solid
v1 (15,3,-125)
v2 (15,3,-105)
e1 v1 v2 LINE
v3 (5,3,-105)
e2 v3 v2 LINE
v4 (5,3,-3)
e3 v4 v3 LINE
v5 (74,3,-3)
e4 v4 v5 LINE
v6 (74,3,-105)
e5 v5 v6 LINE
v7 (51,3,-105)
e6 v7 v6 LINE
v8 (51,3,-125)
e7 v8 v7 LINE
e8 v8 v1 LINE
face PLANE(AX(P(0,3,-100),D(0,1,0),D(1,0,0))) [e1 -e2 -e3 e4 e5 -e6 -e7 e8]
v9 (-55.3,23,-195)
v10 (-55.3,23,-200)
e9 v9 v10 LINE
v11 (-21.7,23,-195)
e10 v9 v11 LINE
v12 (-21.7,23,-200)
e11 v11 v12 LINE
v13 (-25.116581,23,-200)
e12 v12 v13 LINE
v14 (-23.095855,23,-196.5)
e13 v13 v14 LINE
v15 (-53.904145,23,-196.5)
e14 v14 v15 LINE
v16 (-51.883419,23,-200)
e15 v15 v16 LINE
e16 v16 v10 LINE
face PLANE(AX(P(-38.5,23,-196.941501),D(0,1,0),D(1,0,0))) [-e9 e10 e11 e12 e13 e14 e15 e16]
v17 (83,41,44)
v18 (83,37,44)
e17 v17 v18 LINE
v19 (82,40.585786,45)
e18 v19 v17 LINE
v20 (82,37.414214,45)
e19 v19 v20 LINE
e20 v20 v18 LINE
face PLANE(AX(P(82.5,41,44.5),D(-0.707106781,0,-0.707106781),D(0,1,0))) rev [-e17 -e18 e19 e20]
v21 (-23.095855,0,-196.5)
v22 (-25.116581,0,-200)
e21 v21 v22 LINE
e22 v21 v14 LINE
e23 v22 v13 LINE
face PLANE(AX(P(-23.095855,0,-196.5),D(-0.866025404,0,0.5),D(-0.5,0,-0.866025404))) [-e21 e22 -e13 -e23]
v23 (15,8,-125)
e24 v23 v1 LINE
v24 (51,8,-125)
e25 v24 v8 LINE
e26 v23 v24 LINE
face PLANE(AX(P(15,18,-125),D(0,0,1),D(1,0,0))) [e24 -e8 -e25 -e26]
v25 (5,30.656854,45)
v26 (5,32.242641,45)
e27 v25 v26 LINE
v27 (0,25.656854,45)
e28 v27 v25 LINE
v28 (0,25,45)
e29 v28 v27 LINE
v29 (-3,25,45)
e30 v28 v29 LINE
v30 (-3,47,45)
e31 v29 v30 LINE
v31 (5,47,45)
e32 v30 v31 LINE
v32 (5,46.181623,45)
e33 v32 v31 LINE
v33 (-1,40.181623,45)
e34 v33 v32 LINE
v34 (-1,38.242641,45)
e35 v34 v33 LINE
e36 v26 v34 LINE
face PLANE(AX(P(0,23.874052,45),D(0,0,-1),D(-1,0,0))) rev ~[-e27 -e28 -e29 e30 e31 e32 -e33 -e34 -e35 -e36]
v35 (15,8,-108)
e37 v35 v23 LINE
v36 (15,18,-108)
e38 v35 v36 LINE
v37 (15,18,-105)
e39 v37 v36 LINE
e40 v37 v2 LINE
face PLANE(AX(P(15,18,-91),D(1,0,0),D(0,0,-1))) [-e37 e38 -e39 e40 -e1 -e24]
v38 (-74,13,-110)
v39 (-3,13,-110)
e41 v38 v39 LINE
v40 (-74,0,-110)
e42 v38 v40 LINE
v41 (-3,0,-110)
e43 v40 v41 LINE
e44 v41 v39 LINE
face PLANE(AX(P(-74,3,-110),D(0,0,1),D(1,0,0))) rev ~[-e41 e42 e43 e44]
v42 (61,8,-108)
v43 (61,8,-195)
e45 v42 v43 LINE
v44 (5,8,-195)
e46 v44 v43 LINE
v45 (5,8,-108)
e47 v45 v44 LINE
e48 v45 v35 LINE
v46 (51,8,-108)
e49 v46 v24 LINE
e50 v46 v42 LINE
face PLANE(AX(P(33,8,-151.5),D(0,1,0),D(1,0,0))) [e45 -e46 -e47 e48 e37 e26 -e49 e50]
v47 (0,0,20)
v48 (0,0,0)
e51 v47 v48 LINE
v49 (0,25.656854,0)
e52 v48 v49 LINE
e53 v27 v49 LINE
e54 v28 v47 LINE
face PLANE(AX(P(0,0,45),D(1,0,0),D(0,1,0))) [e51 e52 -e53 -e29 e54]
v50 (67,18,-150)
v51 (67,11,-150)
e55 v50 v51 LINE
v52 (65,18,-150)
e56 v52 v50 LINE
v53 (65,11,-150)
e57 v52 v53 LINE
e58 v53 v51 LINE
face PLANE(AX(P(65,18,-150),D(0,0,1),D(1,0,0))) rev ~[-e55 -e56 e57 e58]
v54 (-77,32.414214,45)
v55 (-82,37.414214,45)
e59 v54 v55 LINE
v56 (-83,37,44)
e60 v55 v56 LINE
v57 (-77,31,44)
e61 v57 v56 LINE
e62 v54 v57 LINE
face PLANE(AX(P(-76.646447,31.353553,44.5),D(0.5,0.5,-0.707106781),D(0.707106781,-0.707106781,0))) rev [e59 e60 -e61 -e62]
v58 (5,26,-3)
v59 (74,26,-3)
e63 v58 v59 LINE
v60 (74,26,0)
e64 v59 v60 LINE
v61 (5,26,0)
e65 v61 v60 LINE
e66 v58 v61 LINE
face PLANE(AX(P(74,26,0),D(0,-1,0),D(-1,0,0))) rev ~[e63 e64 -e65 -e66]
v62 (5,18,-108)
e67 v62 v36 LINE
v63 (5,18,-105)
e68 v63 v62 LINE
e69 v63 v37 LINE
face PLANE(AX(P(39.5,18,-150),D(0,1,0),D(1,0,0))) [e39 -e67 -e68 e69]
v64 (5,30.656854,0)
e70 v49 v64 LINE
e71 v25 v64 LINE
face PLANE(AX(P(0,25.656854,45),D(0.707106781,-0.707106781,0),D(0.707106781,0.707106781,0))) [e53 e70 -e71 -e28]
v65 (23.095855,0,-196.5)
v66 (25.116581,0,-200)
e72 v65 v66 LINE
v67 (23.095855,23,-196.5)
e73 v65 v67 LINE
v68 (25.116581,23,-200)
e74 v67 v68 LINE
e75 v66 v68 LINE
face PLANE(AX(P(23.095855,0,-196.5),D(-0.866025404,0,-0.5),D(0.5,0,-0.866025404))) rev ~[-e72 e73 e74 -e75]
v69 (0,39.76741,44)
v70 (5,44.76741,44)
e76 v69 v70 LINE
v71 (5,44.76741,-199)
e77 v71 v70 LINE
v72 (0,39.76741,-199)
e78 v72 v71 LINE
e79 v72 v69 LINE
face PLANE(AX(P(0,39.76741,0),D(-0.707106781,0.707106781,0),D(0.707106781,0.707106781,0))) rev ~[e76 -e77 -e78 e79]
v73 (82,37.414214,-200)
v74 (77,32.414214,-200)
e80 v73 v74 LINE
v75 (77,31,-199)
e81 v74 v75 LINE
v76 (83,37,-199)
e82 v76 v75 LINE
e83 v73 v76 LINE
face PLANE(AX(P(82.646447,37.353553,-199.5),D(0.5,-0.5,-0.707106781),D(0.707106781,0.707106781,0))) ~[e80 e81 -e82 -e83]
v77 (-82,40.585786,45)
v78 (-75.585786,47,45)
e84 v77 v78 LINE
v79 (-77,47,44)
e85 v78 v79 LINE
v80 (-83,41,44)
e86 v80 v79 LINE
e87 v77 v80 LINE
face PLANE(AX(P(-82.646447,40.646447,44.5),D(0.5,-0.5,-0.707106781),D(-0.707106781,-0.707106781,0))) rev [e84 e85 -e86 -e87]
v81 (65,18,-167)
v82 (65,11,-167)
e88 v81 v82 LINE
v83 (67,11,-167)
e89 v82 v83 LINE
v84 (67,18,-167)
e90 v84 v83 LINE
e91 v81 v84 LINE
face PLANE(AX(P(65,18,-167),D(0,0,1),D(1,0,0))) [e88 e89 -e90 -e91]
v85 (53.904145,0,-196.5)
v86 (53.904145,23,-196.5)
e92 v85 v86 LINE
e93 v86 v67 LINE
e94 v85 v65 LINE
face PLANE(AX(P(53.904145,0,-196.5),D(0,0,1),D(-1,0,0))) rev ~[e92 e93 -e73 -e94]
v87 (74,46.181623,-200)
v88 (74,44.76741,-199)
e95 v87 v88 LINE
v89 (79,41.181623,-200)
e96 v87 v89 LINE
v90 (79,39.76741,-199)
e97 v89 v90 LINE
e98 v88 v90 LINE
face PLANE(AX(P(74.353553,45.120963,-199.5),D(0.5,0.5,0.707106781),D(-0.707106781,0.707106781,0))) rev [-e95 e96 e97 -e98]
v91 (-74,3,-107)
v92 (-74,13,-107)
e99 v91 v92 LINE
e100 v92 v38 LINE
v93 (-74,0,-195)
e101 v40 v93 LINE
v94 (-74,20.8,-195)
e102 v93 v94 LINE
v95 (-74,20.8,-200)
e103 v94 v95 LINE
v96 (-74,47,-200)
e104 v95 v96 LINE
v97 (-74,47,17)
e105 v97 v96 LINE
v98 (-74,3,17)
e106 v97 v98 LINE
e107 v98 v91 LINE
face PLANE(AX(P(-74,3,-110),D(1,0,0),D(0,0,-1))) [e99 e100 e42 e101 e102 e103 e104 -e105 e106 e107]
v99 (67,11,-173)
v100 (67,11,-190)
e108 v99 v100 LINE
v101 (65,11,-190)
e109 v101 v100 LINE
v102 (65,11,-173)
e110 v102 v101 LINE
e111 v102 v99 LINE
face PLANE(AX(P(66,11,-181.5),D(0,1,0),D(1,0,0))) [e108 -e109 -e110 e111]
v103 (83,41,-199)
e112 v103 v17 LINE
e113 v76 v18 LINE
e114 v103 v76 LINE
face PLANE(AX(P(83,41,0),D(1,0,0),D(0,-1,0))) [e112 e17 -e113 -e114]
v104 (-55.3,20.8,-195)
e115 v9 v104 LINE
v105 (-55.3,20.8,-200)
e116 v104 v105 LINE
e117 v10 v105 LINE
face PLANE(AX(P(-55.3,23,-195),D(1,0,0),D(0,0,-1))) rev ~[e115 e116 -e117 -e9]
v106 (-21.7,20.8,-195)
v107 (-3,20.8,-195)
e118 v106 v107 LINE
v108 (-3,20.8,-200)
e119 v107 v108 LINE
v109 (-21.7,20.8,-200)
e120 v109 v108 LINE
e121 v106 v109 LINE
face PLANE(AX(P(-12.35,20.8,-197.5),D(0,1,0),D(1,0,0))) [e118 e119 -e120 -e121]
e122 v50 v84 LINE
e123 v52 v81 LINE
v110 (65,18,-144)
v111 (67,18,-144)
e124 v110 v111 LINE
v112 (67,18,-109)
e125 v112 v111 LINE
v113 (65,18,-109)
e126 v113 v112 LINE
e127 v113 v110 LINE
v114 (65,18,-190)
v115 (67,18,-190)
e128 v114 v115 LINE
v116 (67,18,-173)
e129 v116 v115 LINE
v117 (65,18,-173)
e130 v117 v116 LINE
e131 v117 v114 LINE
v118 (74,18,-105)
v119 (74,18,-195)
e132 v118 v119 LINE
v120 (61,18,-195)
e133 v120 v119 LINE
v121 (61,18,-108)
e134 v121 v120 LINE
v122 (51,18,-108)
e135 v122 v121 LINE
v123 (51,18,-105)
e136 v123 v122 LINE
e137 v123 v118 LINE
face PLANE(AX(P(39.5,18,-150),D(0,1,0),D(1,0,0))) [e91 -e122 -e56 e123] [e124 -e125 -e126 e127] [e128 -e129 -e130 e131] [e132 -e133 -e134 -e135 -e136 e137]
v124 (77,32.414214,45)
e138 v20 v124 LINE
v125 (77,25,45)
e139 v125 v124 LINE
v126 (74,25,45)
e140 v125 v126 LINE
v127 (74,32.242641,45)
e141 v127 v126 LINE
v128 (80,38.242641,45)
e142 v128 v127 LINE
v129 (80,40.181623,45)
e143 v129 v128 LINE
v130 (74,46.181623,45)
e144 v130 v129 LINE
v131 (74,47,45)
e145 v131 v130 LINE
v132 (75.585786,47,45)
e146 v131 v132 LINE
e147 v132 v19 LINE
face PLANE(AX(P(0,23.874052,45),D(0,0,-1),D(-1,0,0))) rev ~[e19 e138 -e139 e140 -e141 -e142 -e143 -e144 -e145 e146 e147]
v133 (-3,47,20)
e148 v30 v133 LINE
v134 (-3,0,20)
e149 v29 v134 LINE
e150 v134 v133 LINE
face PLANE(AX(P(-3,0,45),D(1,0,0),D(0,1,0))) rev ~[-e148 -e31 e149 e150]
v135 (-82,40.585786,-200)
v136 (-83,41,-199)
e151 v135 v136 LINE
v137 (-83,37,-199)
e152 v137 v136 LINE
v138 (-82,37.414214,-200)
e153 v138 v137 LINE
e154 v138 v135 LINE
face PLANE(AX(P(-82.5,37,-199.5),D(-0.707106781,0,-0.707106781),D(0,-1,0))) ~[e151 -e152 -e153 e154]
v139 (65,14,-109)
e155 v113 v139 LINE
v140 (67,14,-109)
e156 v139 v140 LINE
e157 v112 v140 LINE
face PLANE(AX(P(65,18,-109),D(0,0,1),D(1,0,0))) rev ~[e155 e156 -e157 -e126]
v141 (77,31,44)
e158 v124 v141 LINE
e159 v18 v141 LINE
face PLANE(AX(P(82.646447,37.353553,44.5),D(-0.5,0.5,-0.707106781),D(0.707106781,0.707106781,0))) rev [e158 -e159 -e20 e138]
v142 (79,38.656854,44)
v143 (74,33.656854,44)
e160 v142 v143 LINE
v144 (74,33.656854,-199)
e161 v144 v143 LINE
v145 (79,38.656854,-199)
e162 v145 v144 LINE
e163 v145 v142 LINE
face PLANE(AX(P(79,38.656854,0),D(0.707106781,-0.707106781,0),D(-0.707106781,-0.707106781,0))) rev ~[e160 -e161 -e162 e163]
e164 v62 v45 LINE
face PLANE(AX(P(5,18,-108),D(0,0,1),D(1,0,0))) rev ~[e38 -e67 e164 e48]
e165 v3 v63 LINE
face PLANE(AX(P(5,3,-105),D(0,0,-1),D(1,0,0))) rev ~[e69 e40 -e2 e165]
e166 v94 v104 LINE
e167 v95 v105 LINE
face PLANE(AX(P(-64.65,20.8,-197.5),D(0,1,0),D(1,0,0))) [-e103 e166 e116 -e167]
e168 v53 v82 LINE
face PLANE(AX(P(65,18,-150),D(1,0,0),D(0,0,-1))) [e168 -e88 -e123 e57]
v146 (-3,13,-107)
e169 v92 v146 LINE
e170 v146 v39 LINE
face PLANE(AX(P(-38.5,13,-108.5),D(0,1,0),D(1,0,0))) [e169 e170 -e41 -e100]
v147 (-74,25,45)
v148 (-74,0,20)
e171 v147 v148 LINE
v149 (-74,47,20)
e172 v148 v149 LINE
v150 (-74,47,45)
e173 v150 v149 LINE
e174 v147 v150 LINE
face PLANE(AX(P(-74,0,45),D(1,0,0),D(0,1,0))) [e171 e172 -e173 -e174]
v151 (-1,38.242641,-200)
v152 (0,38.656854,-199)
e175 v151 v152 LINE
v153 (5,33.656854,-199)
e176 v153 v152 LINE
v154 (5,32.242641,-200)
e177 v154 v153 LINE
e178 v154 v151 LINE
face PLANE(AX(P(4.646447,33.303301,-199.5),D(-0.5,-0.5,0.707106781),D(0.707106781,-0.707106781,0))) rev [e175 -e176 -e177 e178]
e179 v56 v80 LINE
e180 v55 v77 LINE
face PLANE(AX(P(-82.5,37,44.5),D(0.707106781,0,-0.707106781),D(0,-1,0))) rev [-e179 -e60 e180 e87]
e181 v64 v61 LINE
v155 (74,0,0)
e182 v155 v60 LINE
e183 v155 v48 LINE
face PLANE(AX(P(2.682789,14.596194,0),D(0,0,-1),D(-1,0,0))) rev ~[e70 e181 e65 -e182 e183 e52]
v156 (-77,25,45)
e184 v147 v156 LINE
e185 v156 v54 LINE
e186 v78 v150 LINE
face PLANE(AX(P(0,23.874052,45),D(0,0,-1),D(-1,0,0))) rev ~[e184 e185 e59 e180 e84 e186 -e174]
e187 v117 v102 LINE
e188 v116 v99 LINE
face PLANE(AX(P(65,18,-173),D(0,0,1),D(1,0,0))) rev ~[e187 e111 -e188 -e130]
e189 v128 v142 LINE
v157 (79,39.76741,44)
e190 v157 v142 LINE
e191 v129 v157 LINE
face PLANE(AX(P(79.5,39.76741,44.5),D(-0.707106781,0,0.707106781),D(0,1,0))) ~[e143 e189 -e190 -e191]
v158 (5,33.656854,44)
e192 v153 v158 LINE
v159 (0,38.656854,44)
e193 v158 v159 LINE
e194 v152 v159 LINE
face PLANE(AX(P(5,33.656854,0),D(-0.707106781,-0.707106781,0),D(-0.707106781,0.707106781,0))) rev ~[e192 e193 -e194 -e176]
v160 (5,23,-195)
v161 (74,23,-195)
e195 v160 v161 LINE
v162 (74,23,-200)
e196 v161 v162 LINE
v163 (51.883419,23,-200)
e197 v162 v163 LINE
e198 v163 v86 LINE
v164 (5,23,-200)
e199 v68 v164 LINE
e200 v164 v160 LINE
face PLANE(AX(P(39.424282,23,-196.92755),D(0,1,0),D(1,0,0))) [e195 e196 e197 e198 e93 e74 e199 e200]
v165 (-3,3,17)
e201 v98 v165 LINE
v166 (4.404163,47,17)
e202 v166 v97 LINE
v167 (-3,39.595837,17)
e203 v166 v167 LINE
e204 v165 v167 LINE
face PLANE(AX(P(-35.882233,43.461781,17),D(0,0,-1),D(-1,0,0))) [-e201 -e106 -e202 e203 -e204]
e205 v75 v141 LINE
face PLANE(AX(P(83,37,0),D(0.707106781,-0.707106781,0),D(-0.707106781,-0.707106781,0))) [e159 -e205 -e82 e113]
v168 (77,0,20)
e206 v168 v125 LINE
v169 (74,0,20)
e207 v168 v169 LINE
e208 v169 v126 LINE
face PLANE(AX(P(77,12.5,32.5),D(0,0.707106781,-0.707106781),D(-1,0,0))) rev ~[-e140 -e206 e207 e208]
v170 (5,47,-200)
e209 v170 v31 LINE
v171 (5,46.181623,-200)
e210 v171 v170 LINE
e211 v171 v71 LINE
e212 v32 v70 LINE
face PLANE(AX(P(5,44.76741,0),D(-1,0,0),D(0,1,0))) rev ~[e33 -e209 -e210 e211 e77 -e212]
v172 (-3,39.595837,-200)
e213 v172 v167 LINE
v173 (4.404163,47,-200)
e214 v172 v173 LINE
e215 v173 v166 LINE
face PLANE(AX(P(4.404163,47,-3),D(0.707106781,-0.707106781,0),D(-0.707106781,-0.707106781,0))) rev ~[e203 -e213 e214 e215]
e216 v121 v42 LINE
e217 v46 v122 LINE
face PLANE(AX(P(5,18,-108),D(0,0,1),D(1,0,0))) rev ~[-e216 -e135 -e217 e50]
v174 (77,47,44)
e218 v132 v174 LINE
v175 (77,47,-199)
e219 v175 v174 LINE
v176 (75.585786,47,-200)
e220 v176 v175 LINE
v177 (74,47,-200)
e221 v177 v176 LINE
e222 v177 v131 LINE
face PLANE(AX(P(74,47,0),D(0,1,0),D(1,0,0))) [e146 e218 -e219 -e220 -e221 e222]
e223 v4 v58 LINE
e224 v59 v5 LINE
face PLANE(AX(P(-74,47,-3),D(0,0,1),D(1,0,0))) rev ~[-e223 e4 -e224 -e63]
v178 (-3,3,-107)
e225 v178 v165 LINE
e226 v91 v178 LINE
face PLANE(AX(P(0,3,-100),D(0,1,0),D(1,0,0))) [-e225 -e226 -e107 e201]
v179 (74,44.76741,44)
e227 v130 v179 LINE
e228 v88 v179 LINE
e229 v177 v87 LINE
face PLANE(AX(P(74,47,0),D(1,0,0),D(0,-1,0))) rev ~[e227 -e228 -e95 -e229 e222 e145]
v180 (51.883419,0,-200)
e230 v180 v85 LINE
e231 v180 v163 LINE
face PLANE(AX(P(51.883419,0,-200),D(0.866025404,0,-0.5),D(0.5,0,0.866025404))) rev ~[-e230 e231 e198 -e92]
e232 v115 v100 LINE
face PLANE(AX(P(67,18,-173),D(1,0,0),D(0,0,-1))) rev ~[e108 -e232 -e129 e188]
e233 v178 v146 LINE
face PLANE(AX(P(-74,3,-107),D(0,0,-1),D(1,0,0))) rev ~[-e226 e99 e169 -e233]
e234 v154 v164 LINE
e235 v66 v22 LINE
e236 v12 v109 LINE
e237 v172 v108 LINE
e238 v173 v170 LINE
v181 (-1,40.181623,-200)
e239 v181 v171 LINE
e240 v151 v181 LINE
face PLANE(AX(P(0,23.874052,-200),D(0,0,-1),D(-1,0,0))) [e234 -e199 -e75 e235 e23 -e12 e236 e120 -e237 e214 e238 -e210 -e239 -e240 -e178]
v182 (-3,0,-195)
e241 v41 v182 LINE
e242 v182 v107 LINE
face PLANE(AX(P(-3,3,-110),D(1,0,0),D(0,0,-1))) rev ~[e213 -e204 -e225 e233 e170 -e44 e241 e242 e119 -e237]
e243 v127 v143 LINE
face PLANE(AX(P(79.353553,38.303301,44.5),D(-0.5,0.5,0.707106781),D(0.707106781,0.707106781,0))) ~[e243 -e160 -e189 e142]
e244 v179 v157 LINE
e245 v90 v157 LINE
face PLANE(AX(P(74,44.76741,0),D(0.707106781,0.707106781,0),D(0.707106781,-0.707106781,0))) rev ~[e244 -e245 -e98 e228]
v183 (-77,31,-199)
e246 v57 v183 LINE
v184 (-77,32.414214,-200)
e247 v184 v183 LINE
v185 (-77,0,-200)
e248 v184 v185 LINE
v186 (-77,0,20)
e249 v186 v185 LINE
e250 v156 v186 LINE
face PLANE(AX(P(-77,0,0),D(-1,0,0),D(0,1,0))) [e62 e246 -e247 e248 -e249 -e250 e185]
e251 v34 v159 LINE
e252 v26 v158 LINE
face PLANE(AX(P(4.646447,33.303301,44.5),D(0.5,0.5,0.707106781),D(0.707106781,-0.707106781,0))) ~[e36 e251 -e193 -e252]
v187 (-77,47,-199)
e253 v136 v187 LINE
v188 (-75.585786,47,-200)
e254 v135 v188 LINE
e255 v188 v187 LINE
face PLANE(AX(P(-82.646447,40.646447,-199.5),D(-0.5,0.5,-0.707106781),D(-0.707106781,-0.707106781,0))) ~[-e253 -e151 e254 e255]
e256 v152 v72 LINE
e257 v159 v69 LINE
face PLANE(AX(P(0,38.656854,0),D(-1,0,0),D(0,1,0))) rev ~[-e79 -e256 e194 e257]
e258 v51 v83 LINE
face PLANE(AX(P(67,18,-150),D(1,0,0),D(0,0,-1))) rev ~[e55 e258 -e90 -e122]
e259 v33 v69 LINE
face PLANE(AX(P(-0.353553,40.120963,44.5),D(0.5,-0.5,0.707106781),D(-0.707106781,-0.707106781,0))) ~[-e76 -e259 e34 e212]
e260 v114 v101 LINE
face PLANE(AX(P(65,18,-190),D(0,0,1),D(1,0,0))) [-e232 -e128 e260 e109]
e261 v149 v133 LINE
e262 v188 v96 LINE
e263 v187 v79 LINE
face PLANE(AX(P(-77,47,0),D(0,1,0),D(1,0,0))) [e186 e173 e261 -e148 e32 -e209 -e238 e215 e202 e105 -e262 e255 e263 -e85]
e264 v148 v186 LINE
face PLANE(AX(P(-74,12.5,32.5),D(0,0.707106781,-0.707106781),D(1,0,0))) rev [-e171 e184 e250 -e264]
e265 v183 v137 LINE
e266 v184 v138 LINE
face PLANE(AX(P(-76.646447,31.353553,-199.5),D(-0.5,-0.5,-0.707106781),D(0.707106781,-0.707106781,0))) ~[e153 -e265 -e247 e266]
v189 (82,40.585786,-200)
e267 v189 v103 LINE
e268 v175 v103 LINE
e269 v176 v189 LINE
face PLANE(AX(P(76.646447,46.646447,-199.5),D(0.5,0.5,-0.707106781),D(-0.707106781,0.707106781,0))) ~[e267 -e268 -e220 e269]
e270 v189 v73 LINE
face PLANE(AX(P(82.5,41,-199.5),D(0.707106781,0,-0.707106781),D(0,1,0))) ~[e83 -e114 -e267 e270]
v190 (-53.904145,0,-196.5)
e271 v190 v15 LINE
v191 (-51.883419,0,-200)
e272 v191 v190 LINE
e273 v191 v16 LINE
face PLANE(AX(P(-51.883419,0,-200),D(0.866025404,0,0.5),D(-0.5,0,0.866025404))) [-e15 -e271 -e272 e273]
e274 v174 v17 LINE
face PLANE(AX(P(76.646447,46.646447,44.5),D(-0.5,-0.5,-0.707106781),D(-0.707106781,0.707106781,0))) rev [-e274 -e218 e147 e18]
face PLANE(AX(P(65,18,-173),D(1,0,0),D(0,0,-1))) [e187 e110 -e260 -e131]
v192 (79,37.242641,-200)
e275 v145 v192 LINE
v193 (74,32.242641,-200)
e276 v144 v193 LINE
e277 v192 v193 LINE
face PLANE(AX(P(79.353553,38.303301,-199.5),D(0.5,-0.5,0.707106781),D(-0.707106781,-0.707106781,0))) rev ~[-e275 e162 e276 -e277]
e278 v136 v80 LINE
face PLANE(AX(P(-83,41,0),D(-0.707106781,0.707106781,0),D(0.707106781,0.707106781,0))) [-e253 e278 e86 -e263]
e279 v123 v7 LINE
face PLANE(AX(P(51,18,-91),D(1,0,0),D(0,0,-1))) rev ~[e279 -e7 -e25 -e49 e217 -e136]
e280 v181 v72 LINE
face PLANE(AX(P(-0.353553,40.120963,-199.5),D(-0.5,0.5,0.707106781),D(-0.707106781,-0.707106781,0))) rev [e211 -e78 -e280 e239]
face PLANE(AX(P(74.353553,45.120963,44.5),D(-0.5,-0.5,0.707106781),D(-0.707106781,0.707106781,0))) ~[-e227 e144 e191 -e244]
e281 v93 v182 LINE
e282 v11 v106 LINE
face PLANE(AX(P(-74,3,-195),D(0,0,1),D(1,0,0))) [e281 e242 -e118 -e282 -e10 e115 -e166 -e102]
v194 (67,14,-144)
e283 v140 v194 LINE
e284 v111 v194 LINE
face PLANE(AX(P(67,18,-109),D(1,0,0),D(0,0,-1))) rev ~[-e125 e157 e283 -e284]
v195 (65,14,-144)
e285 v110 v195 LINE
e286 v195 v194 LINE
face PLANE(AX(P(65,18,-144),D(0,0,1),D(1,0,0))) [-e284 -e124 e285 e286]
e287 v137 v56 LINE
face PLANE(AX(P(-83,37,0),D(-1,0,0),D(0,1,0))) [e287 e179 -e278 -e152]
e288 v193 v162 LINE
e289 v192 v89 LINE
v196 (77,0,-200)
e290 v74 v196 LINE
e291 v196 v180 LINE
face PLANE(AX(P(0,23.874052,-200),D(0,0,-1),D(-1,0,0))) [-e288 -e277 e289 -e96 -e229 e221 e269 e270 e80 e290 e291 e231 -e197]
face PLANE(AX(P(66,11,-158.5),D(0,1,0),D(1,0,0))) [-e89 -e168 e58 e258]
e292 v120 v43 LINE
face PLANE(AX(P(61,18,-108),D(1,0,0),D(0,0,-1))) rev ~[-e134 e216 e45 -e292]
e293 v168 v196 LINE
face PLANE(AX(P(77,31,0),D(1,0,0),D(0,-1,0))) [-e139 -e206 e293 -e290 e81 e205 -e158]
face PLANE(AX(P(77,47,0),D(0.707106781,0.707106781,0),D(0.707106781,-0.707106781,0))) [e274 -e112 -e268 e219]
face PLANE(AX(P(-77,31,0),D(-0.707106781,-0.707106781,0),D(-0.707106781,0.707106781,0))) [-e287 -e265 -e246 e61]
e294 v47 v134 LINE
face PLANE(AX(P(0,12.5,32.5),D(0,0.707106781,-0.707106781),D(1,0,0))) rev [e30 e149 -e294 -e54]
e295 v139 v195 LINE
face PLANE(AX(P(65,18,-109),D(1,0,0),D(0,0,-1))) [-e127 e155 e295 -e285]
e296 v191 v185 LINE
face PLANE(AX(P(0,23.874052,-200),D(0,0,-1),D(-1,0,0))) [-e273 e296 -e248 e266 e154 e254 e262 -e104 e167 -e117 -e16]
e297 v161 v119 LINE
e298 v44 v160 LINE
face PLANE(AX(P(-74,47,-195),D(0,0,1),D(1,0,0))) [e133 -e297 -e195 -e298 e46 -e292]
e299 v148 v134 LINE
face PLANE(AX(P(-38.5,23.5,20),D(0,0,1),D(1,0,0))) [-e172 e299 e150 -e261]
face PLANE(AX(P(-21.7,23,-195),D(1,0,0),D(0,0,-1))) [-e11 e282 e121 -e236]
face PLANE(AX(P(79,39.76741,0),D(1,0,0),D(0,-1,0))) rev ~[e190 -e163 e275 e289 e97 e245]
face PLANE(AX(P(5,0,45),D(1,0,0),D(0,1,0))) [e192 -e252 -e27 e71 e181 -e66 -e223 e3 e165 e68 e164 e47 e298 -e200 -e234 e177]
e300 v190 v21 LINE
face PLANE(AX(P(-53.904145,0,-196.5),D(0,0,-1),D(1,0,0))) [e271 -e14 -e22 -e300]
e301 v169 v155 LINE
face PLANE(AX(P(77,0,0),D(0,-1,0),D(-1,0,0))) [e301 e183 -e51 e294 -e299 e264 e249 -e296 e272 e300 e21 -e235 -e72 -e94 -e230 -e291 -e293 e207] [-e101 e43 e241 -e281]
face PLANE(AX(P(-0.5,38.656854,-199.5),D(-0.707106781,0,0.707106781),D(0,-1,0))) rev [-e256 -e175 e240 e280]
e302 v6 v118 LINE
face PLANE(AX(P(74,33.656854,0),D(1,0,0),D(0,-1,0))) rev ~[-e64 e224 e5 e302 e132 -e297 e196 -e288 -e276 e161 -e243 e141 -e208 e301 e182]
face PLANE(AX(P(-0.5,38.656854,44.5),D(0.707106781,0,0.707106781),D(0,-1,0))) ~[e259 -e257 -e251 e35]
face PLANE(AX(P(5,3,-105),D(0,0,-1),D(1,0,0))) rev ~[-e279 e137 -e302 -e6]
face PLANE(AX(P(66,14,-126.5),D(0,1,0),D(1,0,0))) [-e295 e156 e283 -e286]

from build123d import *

# Parameters (mm, degrees)
EXTRUDE_1_DEPTH       = 200
SKETCH_3_W            = 148
SKETCH_3_H            = 194
CUT_EXTRUDE_1_DEPTH   = 44
SKETCH_4_W            = 8
SKETCH_4_H            = 194
EXTRUDE_1_2_DEPTH     = 44
CUT_EXTRUDE_2_DEPTH   = 222.580685079
CUT_EXTRUDE_5_DEPTH   = 219.876677606
MOVE_FACE_1_BY        = 2
MOVE_FACE_1_2_BY      = 2
CUT_EXTRUDE_6_DEPTH   = 222.580685079
CUT_EXTRUDE_7_DEPTH   = 16.595837
MOVE_FACE_2_BY        = 45
MOVE_FACE_3_BY        = 20
SKETCH_13_W           = 71
SKETCH_13_H           = 47
CUT_EXTRUDE_8_DEPTH   = 25
SKETCH_14_W           = 69
SKETCH_14_H           = 26
CUT_EXTRUDE_9_DEPTH   = 45
CUT_EXTRUDE_10_DEPTH  = 45
CHAMFER_1_SIZE        = 25
CUT_EXTRUDE_11_REACH  = 222.964
SKETCH_16_W           = 71
SKETCH_16_H           = 85
SKETCH_17_W           = 71
SKETCH_17_H           = 3
EXTRUDE_2_DEPTH       = 10
SKETCH_18_W           = 18.7
SKETCH_18_H           = 5
CUT_EXTRUDE_12_DEPTH  = 2.2
SKETCH_19_W           = 69
SKETCH_19_H           = 90
EXTRUDE_3_DEPTH       = 15
SKETCH_20_W           = 56
SKETCH_20_H           = 87
CUT_EXTRUDE_13_DEPTH  = 10
CUT_EXTRUDE_14_REACH  = 220.472
SKETCH_21_W           = 36
SKETCH_21_H           = 34
SKETCH_22_W           = 2
SKETCH_22_H           = 17
SKETCH_22_H_2         = 35
CUT_EXTRUDE_1_2_DEPTH = 7
MOVE_FACE_4_BY        = 3
CHAMFER_2_SIZE        = 1


with BuildPart() as part:
    # 草图1 → Extrude 1 (new body)
    with BuildSketch(Plane.XY):
        Polygon((77, 0), (-77, 0), (-77, 31), (-83, 37), (-83, 41), (-77, 47), (77, 47), (83, 41), (83, 37), (77, 31), align=None)
    extrude(amount=-EXTRUDE_1_DEPTH)

    # 草图3 → Cut-Extrude 1 (cut)
    with BuildSketch(Plane(origin=(0, 47, 0), x_dir=(1, 0, 0), z_dir=(0, 1, 0))):
        with Locations((0, 100)):
            Rectangle(SKETCH_3_W, SKETCH_3_H)
    extrude(amount=-CUT_EXTRUDE_1_DEPTH, mode=Mode.SUBTRACT)

    # 草图4 → Extrude 1 2 (add)
    with BuildSketch(Plane(origin=(0, 3, 0), x_dir=(1, 0, 0), z_dir=(0, 1, 0))):
        with Locations((1, 100)):
            Rectangle(SKETCH_4_W, SKETCH_4_H)
    extrude(amount=EXTRUDE_1_2_DEPTH)

    # 草图5 → 切除-拉伸2 (cut, through all)
    with BuildSketch(Plane(origin=(0, 0, -200), x_dir=(-1, 0, 0), z_dir=(0, 0, -1))):
        Polygon((-74, 47), (-74, 44.767409819), (-79, 39.767409819), (-79, 38.656854249), (-74, 33.656854249), (-74, 26), (-5, 26), (-5, 33.656854249), (0, 38.656854249), (0, 39.767409819), (-5, 44.767409819), (-5, 47), align=None)
    extrude(amount=-CUT_EXTRUDE_2_DEPTH, mode=Mode.SUBTRACT)

    # 草图9 → 切除-拉伸5 (cut, through all)
    with BuildSketch(Plane(origin=(0, 0, -3), x_dir=(-1, 0, 0), z_dir=(0, 0, -1))):
        Polygon((-4.404163056, 47), (3, 39.595836944), (74, 39.595836944), (74, 47), (3, 47), align=None)
    extrude(amount=CUT_EXTRUDE_5_DEPTH, mode=Mode.SUBTRACT)

    # Move Face 1: a face moved outward by 2.0
    extrude(part.faces().sort_by_distance((39.5, 14.5, -197))[0], amount=MOVE_FACE_1_BY, dir=(0, 0, 1))

    # Move Face 1 2: a face moved outward by 2.0
    extrude(part.faces().sort_by_distance((-38.5, 21.297918472, -197))[0], amount=MOVE_FACE_1_2_BY, dir=(0, 0, 1))

    # 草图11 → 切除-拉伸6 (cut, through all)
    with BuildSketch(Plane.XZ):
        Polygon((51.883419246, -200), (53.904145188, -196.5), (23.095854812, -196.5), (25.116580754, -200), align=None)
        Polygon((-53.904145188, -196.5), (-23.095854812, -196.5), (-25.116580754, -200), (-51.883419246, -200), align=None)
    extrude(amount=-CUT_EXTRUDE_6_DEPTH, mode=Mode.SUBTRACT)

    # 草图12 → 切除-拉伸7 (cut)
    with BuildSketch(Plane(origin=(0, 39.595836944, 0), x_dir=(1, 0, 0), z_dir=(0, 1, 0))):
        Polygon((-53.904145188, 196.5), (-51.883419246, 200), (-74, 200), (-74, 195), (-3, 195), (-3, 200), (-25.116580754, 200), (-23.095854812, 196.5), align=None)
        Polygon((53.904145188, 196.5), (23.095854812, 196.5), (25.116580754, 200), (5, 200), (5, 195), (74, 195), (74, 200), (51.883419246, 200), align=None)
    extrude(amount=-CUT_EXTRUDE_7_DEPTH, mode=Mode.SUBTRACT)

    # Move Face 2: a face moved outward by 45.0
    extrude(part.faces().sort_by_distance((-10.200110487, 20.43272532, 0))[0], amount=MOVE_FACE_2_BY, dir=(0, 0, 1))

    # Move Face 3: a face moved inward by 20.0
    extrude(part.faces().sort_by_distance((-38.169755743, 25.169887896, -3))[0], amount=MOVE_FACE_3_BY, dir=(0, 0, 1), mode=Mode.SUBTRACT)

    # 草图13 → 切除-拉伸8 (cut)
    with BuildSketch(Plane.XY.offset(45)):
        with Locations((-38.5, 23.5)):
            Rectangle(SKETCH_13_W, SKETCH_13_H)
    extrude(amount=-CUT_EXTRUDE_8_DEPTH, mode=Mode.SUBTRACT)

    # 草图14 → 切除-拉伸9 (cut)
    with BuildSketch(Plane.XY.offset(45)):
        with Locations((39.5, 13)):
            Rectangle(SKETCH_14_W, SKETCH_14_H)
    extrude(amount=-CUT_EXTRUDE_9_DEPTH, mode=Mode.SUBTRACT)

    # 草图15 → 切除-拉伸10 (cut)
    with BuildSketch(Plane.XY.offset(45)):
        Polygon((5, 0), (0, 0), (0, 25.656854249), (5, 30.656854249), align=None)
    extrude(amount=-CUT_EXTRUDE_10_DEPTH, mode=Mode.SUBTRACT)

    # 倒角1
    chamfer_1_edges = [part.edges().sort_by_distance(p)[0] for p in [
        (75.5, 0, 45),
        (-1.5, 0, 45),
        (-75.5, 0, 45),
    ]]
    chamfer(chamfer_1_edges, length=CHAMFER_1_SIZE)

    # 草图16 → 切除-拉伸11 (cut, up to next)
    with BuildSketch(Plane(origin=(0, 3, 0), x_dir=(1, 0, 0), z_dir=(0, 1, 0)), mode=Mode.PRIVATE) as cut_extrude_11_sk1:
        with Locations((-38.5, 152.5)):
            Rectangle(SKETCH_16_W, SKETCH_16_H)
    cut_extrude_11_tool1 = extrude(cut_extrude_11_sk1.sketch, amount=-CUT_EXTRUDE_11_REACH, mode=Mode.PRIVATE) & part.part
    add(cut_extrude_11_tool1.solids().sort_by_distance((-38.5, 3, -152.5))[0], mode=Mode.SUBTRACT)

    # 草图17 → 凸台-拉伸2 (add)
    with BuildSketch(Plane(origin=(0, 3, 0), x_dir=(1, 0, 0), z_dir=(0, 1, 0))):
        with Locations((-38.5, 108.5)):
            Rectangle(SKETCH_17_W, SKETCH_17_H)
    extrude(amount=EXTRUDE_2_DEPTH)

    # 草图18 → 切除-拉伸12 (cut)
    with BuildSketch(Plane(origin=(0, 23, 0), x_dir=(1, 0, 0), z_dir=(0, 1, 0))):
        with Locations((-12.35, 197.5)):
            Rectangle(SKETCH_18_W, SKETCH_18_H)
        with Locations((-64.65, 197.5)):
            Rectangle(SKETCH_18_W, SKETCH_18_H)
    extrude(amount=-CUT_EXTRUDE_12_DEPTH, mode=Mode.SUBTRACT)

    # 草图19 → 凸台-拉伸3 (add)
    with BuildSketch(Plane(origin=(0, 3, 0), x_dir=(1, 0, 0), z_dir=(0, 1, 0))):
        with Locations((39.5, 150)):
            Rectangle(SKETCH_19_W, SKETCH_19_H)
    extrude(amount=EXTRUDE_3_DEPTH)

    # 草图20 → 切除-拉伸13 (cut)
    with BuildSketch(Plane(origin=(0, 18, 0), x_dir=(1, 0, 0), z_dir=(0, 1, 0))):
        with Locations((33, 151.5)):
            Rectangle(SKETCH_20_W, SKETCH_20_H)
    extrude(amount=-CUT_EXTRUDE_13_DEPTH, mode=Mode.SUBTRACT)

    # 切除-拉伸14: up to this face of the body (flat: up to its plane)
    cut_extrude_14_end = Plane(part.part.faces().sort_by_distance((39.5, 3, -54))[0])
    # 草图21 → 切除-拉伸14 (cut, up to the picked face)
    with BuildSketch(Plane(origin=(0, 18, 0), x_dir=(1, 0, 0), z_dir=(0, 1, 0)), mode=Mode.PRIVATE) as cut_extrude_14_sk1:
        with Locations((33, 108)):
            Rectangle(SKETCH_21_W, SKETCH_21_H)
    cut_extrude_14_tool1 = split(extrude(cut_extrude_14_sk1.sketch, amount=-CUT_EXTRUDE_14_REACH, mode=Mode.PRIVATE), bisect_by=cut_extrude_14_end, keep=Keep.BOTH, mode=Mode.PRIVATE)
    add(cut_extrude_14_tool1.solids().sort_by(Axis((33, 18, -108), (0, -1, 0)))[0], mode=Mode.SUBTRACT)

    # 草图22 → Cut-Extrude 1 2 (cut)
    with BuildSketch(Plane(origin=(0, 18, 0), x_dir=(1, 0, 0), z_dir=(0, 1, 0))):
        with Locations((66, 181.5)):
            Rectangle(SKETCH_22_W, SKETCH_22_H)
        with Locations((66, 158.5)):
            Rectangle(SKETCH_22_W, SKETCH_22_H)
        with Locations((66, 126.5)):
            Rectangle(SKETCH_22_W, SKETCH_22_H_2)
    extrude(amount=-CUT_EXTRUDE_1_2_DEPTH, mode=Mode.SUBTRACT)

    # Move Face 4: a face moved outward by 3.0
    extrude(part.faces().sort_by_distance((66, 11, -126.5))[0], amount=MOVE_FACE_4_BY, dir=(0, 1, 0))

    # 倒角2
    chamfer_2_edges = [part.edges().sort_by_distance(p)[0] for p in [
        (-80, 34, 45),
        (-83, 39, 45),
        (-80, 44, 45),
        (80, 44, 45),
        (83, 39, 45),
        (80, 34, 45),
        (80, 34, -200),
        (83, 39, -200),
        (80, 44, -200),
        (-80, 44, -200),
        (-83, 39, -200),
        (-80, 34, -200),
        (2.5, 42.267409819, 45),
        (0, 39.212132034, 45),
        (2.5, 36.156854249, 45),
        (76.5, 36.156854249, 45),
        (79, 39.212132034, 45),
        (76.5, 42.267409819, 45),
        (76.5, 42.267409819, -200),
        (76.5, 36.156854249, -200),
        (2.5, 36.156854249, -200),
        (0, 39.212132034, -200),
        (2.5, 42.267409819, -200),
    ]]
    chamfer(chamfer_2_edges, length=CHAMFER_2_SIZE)


solid = part.part
